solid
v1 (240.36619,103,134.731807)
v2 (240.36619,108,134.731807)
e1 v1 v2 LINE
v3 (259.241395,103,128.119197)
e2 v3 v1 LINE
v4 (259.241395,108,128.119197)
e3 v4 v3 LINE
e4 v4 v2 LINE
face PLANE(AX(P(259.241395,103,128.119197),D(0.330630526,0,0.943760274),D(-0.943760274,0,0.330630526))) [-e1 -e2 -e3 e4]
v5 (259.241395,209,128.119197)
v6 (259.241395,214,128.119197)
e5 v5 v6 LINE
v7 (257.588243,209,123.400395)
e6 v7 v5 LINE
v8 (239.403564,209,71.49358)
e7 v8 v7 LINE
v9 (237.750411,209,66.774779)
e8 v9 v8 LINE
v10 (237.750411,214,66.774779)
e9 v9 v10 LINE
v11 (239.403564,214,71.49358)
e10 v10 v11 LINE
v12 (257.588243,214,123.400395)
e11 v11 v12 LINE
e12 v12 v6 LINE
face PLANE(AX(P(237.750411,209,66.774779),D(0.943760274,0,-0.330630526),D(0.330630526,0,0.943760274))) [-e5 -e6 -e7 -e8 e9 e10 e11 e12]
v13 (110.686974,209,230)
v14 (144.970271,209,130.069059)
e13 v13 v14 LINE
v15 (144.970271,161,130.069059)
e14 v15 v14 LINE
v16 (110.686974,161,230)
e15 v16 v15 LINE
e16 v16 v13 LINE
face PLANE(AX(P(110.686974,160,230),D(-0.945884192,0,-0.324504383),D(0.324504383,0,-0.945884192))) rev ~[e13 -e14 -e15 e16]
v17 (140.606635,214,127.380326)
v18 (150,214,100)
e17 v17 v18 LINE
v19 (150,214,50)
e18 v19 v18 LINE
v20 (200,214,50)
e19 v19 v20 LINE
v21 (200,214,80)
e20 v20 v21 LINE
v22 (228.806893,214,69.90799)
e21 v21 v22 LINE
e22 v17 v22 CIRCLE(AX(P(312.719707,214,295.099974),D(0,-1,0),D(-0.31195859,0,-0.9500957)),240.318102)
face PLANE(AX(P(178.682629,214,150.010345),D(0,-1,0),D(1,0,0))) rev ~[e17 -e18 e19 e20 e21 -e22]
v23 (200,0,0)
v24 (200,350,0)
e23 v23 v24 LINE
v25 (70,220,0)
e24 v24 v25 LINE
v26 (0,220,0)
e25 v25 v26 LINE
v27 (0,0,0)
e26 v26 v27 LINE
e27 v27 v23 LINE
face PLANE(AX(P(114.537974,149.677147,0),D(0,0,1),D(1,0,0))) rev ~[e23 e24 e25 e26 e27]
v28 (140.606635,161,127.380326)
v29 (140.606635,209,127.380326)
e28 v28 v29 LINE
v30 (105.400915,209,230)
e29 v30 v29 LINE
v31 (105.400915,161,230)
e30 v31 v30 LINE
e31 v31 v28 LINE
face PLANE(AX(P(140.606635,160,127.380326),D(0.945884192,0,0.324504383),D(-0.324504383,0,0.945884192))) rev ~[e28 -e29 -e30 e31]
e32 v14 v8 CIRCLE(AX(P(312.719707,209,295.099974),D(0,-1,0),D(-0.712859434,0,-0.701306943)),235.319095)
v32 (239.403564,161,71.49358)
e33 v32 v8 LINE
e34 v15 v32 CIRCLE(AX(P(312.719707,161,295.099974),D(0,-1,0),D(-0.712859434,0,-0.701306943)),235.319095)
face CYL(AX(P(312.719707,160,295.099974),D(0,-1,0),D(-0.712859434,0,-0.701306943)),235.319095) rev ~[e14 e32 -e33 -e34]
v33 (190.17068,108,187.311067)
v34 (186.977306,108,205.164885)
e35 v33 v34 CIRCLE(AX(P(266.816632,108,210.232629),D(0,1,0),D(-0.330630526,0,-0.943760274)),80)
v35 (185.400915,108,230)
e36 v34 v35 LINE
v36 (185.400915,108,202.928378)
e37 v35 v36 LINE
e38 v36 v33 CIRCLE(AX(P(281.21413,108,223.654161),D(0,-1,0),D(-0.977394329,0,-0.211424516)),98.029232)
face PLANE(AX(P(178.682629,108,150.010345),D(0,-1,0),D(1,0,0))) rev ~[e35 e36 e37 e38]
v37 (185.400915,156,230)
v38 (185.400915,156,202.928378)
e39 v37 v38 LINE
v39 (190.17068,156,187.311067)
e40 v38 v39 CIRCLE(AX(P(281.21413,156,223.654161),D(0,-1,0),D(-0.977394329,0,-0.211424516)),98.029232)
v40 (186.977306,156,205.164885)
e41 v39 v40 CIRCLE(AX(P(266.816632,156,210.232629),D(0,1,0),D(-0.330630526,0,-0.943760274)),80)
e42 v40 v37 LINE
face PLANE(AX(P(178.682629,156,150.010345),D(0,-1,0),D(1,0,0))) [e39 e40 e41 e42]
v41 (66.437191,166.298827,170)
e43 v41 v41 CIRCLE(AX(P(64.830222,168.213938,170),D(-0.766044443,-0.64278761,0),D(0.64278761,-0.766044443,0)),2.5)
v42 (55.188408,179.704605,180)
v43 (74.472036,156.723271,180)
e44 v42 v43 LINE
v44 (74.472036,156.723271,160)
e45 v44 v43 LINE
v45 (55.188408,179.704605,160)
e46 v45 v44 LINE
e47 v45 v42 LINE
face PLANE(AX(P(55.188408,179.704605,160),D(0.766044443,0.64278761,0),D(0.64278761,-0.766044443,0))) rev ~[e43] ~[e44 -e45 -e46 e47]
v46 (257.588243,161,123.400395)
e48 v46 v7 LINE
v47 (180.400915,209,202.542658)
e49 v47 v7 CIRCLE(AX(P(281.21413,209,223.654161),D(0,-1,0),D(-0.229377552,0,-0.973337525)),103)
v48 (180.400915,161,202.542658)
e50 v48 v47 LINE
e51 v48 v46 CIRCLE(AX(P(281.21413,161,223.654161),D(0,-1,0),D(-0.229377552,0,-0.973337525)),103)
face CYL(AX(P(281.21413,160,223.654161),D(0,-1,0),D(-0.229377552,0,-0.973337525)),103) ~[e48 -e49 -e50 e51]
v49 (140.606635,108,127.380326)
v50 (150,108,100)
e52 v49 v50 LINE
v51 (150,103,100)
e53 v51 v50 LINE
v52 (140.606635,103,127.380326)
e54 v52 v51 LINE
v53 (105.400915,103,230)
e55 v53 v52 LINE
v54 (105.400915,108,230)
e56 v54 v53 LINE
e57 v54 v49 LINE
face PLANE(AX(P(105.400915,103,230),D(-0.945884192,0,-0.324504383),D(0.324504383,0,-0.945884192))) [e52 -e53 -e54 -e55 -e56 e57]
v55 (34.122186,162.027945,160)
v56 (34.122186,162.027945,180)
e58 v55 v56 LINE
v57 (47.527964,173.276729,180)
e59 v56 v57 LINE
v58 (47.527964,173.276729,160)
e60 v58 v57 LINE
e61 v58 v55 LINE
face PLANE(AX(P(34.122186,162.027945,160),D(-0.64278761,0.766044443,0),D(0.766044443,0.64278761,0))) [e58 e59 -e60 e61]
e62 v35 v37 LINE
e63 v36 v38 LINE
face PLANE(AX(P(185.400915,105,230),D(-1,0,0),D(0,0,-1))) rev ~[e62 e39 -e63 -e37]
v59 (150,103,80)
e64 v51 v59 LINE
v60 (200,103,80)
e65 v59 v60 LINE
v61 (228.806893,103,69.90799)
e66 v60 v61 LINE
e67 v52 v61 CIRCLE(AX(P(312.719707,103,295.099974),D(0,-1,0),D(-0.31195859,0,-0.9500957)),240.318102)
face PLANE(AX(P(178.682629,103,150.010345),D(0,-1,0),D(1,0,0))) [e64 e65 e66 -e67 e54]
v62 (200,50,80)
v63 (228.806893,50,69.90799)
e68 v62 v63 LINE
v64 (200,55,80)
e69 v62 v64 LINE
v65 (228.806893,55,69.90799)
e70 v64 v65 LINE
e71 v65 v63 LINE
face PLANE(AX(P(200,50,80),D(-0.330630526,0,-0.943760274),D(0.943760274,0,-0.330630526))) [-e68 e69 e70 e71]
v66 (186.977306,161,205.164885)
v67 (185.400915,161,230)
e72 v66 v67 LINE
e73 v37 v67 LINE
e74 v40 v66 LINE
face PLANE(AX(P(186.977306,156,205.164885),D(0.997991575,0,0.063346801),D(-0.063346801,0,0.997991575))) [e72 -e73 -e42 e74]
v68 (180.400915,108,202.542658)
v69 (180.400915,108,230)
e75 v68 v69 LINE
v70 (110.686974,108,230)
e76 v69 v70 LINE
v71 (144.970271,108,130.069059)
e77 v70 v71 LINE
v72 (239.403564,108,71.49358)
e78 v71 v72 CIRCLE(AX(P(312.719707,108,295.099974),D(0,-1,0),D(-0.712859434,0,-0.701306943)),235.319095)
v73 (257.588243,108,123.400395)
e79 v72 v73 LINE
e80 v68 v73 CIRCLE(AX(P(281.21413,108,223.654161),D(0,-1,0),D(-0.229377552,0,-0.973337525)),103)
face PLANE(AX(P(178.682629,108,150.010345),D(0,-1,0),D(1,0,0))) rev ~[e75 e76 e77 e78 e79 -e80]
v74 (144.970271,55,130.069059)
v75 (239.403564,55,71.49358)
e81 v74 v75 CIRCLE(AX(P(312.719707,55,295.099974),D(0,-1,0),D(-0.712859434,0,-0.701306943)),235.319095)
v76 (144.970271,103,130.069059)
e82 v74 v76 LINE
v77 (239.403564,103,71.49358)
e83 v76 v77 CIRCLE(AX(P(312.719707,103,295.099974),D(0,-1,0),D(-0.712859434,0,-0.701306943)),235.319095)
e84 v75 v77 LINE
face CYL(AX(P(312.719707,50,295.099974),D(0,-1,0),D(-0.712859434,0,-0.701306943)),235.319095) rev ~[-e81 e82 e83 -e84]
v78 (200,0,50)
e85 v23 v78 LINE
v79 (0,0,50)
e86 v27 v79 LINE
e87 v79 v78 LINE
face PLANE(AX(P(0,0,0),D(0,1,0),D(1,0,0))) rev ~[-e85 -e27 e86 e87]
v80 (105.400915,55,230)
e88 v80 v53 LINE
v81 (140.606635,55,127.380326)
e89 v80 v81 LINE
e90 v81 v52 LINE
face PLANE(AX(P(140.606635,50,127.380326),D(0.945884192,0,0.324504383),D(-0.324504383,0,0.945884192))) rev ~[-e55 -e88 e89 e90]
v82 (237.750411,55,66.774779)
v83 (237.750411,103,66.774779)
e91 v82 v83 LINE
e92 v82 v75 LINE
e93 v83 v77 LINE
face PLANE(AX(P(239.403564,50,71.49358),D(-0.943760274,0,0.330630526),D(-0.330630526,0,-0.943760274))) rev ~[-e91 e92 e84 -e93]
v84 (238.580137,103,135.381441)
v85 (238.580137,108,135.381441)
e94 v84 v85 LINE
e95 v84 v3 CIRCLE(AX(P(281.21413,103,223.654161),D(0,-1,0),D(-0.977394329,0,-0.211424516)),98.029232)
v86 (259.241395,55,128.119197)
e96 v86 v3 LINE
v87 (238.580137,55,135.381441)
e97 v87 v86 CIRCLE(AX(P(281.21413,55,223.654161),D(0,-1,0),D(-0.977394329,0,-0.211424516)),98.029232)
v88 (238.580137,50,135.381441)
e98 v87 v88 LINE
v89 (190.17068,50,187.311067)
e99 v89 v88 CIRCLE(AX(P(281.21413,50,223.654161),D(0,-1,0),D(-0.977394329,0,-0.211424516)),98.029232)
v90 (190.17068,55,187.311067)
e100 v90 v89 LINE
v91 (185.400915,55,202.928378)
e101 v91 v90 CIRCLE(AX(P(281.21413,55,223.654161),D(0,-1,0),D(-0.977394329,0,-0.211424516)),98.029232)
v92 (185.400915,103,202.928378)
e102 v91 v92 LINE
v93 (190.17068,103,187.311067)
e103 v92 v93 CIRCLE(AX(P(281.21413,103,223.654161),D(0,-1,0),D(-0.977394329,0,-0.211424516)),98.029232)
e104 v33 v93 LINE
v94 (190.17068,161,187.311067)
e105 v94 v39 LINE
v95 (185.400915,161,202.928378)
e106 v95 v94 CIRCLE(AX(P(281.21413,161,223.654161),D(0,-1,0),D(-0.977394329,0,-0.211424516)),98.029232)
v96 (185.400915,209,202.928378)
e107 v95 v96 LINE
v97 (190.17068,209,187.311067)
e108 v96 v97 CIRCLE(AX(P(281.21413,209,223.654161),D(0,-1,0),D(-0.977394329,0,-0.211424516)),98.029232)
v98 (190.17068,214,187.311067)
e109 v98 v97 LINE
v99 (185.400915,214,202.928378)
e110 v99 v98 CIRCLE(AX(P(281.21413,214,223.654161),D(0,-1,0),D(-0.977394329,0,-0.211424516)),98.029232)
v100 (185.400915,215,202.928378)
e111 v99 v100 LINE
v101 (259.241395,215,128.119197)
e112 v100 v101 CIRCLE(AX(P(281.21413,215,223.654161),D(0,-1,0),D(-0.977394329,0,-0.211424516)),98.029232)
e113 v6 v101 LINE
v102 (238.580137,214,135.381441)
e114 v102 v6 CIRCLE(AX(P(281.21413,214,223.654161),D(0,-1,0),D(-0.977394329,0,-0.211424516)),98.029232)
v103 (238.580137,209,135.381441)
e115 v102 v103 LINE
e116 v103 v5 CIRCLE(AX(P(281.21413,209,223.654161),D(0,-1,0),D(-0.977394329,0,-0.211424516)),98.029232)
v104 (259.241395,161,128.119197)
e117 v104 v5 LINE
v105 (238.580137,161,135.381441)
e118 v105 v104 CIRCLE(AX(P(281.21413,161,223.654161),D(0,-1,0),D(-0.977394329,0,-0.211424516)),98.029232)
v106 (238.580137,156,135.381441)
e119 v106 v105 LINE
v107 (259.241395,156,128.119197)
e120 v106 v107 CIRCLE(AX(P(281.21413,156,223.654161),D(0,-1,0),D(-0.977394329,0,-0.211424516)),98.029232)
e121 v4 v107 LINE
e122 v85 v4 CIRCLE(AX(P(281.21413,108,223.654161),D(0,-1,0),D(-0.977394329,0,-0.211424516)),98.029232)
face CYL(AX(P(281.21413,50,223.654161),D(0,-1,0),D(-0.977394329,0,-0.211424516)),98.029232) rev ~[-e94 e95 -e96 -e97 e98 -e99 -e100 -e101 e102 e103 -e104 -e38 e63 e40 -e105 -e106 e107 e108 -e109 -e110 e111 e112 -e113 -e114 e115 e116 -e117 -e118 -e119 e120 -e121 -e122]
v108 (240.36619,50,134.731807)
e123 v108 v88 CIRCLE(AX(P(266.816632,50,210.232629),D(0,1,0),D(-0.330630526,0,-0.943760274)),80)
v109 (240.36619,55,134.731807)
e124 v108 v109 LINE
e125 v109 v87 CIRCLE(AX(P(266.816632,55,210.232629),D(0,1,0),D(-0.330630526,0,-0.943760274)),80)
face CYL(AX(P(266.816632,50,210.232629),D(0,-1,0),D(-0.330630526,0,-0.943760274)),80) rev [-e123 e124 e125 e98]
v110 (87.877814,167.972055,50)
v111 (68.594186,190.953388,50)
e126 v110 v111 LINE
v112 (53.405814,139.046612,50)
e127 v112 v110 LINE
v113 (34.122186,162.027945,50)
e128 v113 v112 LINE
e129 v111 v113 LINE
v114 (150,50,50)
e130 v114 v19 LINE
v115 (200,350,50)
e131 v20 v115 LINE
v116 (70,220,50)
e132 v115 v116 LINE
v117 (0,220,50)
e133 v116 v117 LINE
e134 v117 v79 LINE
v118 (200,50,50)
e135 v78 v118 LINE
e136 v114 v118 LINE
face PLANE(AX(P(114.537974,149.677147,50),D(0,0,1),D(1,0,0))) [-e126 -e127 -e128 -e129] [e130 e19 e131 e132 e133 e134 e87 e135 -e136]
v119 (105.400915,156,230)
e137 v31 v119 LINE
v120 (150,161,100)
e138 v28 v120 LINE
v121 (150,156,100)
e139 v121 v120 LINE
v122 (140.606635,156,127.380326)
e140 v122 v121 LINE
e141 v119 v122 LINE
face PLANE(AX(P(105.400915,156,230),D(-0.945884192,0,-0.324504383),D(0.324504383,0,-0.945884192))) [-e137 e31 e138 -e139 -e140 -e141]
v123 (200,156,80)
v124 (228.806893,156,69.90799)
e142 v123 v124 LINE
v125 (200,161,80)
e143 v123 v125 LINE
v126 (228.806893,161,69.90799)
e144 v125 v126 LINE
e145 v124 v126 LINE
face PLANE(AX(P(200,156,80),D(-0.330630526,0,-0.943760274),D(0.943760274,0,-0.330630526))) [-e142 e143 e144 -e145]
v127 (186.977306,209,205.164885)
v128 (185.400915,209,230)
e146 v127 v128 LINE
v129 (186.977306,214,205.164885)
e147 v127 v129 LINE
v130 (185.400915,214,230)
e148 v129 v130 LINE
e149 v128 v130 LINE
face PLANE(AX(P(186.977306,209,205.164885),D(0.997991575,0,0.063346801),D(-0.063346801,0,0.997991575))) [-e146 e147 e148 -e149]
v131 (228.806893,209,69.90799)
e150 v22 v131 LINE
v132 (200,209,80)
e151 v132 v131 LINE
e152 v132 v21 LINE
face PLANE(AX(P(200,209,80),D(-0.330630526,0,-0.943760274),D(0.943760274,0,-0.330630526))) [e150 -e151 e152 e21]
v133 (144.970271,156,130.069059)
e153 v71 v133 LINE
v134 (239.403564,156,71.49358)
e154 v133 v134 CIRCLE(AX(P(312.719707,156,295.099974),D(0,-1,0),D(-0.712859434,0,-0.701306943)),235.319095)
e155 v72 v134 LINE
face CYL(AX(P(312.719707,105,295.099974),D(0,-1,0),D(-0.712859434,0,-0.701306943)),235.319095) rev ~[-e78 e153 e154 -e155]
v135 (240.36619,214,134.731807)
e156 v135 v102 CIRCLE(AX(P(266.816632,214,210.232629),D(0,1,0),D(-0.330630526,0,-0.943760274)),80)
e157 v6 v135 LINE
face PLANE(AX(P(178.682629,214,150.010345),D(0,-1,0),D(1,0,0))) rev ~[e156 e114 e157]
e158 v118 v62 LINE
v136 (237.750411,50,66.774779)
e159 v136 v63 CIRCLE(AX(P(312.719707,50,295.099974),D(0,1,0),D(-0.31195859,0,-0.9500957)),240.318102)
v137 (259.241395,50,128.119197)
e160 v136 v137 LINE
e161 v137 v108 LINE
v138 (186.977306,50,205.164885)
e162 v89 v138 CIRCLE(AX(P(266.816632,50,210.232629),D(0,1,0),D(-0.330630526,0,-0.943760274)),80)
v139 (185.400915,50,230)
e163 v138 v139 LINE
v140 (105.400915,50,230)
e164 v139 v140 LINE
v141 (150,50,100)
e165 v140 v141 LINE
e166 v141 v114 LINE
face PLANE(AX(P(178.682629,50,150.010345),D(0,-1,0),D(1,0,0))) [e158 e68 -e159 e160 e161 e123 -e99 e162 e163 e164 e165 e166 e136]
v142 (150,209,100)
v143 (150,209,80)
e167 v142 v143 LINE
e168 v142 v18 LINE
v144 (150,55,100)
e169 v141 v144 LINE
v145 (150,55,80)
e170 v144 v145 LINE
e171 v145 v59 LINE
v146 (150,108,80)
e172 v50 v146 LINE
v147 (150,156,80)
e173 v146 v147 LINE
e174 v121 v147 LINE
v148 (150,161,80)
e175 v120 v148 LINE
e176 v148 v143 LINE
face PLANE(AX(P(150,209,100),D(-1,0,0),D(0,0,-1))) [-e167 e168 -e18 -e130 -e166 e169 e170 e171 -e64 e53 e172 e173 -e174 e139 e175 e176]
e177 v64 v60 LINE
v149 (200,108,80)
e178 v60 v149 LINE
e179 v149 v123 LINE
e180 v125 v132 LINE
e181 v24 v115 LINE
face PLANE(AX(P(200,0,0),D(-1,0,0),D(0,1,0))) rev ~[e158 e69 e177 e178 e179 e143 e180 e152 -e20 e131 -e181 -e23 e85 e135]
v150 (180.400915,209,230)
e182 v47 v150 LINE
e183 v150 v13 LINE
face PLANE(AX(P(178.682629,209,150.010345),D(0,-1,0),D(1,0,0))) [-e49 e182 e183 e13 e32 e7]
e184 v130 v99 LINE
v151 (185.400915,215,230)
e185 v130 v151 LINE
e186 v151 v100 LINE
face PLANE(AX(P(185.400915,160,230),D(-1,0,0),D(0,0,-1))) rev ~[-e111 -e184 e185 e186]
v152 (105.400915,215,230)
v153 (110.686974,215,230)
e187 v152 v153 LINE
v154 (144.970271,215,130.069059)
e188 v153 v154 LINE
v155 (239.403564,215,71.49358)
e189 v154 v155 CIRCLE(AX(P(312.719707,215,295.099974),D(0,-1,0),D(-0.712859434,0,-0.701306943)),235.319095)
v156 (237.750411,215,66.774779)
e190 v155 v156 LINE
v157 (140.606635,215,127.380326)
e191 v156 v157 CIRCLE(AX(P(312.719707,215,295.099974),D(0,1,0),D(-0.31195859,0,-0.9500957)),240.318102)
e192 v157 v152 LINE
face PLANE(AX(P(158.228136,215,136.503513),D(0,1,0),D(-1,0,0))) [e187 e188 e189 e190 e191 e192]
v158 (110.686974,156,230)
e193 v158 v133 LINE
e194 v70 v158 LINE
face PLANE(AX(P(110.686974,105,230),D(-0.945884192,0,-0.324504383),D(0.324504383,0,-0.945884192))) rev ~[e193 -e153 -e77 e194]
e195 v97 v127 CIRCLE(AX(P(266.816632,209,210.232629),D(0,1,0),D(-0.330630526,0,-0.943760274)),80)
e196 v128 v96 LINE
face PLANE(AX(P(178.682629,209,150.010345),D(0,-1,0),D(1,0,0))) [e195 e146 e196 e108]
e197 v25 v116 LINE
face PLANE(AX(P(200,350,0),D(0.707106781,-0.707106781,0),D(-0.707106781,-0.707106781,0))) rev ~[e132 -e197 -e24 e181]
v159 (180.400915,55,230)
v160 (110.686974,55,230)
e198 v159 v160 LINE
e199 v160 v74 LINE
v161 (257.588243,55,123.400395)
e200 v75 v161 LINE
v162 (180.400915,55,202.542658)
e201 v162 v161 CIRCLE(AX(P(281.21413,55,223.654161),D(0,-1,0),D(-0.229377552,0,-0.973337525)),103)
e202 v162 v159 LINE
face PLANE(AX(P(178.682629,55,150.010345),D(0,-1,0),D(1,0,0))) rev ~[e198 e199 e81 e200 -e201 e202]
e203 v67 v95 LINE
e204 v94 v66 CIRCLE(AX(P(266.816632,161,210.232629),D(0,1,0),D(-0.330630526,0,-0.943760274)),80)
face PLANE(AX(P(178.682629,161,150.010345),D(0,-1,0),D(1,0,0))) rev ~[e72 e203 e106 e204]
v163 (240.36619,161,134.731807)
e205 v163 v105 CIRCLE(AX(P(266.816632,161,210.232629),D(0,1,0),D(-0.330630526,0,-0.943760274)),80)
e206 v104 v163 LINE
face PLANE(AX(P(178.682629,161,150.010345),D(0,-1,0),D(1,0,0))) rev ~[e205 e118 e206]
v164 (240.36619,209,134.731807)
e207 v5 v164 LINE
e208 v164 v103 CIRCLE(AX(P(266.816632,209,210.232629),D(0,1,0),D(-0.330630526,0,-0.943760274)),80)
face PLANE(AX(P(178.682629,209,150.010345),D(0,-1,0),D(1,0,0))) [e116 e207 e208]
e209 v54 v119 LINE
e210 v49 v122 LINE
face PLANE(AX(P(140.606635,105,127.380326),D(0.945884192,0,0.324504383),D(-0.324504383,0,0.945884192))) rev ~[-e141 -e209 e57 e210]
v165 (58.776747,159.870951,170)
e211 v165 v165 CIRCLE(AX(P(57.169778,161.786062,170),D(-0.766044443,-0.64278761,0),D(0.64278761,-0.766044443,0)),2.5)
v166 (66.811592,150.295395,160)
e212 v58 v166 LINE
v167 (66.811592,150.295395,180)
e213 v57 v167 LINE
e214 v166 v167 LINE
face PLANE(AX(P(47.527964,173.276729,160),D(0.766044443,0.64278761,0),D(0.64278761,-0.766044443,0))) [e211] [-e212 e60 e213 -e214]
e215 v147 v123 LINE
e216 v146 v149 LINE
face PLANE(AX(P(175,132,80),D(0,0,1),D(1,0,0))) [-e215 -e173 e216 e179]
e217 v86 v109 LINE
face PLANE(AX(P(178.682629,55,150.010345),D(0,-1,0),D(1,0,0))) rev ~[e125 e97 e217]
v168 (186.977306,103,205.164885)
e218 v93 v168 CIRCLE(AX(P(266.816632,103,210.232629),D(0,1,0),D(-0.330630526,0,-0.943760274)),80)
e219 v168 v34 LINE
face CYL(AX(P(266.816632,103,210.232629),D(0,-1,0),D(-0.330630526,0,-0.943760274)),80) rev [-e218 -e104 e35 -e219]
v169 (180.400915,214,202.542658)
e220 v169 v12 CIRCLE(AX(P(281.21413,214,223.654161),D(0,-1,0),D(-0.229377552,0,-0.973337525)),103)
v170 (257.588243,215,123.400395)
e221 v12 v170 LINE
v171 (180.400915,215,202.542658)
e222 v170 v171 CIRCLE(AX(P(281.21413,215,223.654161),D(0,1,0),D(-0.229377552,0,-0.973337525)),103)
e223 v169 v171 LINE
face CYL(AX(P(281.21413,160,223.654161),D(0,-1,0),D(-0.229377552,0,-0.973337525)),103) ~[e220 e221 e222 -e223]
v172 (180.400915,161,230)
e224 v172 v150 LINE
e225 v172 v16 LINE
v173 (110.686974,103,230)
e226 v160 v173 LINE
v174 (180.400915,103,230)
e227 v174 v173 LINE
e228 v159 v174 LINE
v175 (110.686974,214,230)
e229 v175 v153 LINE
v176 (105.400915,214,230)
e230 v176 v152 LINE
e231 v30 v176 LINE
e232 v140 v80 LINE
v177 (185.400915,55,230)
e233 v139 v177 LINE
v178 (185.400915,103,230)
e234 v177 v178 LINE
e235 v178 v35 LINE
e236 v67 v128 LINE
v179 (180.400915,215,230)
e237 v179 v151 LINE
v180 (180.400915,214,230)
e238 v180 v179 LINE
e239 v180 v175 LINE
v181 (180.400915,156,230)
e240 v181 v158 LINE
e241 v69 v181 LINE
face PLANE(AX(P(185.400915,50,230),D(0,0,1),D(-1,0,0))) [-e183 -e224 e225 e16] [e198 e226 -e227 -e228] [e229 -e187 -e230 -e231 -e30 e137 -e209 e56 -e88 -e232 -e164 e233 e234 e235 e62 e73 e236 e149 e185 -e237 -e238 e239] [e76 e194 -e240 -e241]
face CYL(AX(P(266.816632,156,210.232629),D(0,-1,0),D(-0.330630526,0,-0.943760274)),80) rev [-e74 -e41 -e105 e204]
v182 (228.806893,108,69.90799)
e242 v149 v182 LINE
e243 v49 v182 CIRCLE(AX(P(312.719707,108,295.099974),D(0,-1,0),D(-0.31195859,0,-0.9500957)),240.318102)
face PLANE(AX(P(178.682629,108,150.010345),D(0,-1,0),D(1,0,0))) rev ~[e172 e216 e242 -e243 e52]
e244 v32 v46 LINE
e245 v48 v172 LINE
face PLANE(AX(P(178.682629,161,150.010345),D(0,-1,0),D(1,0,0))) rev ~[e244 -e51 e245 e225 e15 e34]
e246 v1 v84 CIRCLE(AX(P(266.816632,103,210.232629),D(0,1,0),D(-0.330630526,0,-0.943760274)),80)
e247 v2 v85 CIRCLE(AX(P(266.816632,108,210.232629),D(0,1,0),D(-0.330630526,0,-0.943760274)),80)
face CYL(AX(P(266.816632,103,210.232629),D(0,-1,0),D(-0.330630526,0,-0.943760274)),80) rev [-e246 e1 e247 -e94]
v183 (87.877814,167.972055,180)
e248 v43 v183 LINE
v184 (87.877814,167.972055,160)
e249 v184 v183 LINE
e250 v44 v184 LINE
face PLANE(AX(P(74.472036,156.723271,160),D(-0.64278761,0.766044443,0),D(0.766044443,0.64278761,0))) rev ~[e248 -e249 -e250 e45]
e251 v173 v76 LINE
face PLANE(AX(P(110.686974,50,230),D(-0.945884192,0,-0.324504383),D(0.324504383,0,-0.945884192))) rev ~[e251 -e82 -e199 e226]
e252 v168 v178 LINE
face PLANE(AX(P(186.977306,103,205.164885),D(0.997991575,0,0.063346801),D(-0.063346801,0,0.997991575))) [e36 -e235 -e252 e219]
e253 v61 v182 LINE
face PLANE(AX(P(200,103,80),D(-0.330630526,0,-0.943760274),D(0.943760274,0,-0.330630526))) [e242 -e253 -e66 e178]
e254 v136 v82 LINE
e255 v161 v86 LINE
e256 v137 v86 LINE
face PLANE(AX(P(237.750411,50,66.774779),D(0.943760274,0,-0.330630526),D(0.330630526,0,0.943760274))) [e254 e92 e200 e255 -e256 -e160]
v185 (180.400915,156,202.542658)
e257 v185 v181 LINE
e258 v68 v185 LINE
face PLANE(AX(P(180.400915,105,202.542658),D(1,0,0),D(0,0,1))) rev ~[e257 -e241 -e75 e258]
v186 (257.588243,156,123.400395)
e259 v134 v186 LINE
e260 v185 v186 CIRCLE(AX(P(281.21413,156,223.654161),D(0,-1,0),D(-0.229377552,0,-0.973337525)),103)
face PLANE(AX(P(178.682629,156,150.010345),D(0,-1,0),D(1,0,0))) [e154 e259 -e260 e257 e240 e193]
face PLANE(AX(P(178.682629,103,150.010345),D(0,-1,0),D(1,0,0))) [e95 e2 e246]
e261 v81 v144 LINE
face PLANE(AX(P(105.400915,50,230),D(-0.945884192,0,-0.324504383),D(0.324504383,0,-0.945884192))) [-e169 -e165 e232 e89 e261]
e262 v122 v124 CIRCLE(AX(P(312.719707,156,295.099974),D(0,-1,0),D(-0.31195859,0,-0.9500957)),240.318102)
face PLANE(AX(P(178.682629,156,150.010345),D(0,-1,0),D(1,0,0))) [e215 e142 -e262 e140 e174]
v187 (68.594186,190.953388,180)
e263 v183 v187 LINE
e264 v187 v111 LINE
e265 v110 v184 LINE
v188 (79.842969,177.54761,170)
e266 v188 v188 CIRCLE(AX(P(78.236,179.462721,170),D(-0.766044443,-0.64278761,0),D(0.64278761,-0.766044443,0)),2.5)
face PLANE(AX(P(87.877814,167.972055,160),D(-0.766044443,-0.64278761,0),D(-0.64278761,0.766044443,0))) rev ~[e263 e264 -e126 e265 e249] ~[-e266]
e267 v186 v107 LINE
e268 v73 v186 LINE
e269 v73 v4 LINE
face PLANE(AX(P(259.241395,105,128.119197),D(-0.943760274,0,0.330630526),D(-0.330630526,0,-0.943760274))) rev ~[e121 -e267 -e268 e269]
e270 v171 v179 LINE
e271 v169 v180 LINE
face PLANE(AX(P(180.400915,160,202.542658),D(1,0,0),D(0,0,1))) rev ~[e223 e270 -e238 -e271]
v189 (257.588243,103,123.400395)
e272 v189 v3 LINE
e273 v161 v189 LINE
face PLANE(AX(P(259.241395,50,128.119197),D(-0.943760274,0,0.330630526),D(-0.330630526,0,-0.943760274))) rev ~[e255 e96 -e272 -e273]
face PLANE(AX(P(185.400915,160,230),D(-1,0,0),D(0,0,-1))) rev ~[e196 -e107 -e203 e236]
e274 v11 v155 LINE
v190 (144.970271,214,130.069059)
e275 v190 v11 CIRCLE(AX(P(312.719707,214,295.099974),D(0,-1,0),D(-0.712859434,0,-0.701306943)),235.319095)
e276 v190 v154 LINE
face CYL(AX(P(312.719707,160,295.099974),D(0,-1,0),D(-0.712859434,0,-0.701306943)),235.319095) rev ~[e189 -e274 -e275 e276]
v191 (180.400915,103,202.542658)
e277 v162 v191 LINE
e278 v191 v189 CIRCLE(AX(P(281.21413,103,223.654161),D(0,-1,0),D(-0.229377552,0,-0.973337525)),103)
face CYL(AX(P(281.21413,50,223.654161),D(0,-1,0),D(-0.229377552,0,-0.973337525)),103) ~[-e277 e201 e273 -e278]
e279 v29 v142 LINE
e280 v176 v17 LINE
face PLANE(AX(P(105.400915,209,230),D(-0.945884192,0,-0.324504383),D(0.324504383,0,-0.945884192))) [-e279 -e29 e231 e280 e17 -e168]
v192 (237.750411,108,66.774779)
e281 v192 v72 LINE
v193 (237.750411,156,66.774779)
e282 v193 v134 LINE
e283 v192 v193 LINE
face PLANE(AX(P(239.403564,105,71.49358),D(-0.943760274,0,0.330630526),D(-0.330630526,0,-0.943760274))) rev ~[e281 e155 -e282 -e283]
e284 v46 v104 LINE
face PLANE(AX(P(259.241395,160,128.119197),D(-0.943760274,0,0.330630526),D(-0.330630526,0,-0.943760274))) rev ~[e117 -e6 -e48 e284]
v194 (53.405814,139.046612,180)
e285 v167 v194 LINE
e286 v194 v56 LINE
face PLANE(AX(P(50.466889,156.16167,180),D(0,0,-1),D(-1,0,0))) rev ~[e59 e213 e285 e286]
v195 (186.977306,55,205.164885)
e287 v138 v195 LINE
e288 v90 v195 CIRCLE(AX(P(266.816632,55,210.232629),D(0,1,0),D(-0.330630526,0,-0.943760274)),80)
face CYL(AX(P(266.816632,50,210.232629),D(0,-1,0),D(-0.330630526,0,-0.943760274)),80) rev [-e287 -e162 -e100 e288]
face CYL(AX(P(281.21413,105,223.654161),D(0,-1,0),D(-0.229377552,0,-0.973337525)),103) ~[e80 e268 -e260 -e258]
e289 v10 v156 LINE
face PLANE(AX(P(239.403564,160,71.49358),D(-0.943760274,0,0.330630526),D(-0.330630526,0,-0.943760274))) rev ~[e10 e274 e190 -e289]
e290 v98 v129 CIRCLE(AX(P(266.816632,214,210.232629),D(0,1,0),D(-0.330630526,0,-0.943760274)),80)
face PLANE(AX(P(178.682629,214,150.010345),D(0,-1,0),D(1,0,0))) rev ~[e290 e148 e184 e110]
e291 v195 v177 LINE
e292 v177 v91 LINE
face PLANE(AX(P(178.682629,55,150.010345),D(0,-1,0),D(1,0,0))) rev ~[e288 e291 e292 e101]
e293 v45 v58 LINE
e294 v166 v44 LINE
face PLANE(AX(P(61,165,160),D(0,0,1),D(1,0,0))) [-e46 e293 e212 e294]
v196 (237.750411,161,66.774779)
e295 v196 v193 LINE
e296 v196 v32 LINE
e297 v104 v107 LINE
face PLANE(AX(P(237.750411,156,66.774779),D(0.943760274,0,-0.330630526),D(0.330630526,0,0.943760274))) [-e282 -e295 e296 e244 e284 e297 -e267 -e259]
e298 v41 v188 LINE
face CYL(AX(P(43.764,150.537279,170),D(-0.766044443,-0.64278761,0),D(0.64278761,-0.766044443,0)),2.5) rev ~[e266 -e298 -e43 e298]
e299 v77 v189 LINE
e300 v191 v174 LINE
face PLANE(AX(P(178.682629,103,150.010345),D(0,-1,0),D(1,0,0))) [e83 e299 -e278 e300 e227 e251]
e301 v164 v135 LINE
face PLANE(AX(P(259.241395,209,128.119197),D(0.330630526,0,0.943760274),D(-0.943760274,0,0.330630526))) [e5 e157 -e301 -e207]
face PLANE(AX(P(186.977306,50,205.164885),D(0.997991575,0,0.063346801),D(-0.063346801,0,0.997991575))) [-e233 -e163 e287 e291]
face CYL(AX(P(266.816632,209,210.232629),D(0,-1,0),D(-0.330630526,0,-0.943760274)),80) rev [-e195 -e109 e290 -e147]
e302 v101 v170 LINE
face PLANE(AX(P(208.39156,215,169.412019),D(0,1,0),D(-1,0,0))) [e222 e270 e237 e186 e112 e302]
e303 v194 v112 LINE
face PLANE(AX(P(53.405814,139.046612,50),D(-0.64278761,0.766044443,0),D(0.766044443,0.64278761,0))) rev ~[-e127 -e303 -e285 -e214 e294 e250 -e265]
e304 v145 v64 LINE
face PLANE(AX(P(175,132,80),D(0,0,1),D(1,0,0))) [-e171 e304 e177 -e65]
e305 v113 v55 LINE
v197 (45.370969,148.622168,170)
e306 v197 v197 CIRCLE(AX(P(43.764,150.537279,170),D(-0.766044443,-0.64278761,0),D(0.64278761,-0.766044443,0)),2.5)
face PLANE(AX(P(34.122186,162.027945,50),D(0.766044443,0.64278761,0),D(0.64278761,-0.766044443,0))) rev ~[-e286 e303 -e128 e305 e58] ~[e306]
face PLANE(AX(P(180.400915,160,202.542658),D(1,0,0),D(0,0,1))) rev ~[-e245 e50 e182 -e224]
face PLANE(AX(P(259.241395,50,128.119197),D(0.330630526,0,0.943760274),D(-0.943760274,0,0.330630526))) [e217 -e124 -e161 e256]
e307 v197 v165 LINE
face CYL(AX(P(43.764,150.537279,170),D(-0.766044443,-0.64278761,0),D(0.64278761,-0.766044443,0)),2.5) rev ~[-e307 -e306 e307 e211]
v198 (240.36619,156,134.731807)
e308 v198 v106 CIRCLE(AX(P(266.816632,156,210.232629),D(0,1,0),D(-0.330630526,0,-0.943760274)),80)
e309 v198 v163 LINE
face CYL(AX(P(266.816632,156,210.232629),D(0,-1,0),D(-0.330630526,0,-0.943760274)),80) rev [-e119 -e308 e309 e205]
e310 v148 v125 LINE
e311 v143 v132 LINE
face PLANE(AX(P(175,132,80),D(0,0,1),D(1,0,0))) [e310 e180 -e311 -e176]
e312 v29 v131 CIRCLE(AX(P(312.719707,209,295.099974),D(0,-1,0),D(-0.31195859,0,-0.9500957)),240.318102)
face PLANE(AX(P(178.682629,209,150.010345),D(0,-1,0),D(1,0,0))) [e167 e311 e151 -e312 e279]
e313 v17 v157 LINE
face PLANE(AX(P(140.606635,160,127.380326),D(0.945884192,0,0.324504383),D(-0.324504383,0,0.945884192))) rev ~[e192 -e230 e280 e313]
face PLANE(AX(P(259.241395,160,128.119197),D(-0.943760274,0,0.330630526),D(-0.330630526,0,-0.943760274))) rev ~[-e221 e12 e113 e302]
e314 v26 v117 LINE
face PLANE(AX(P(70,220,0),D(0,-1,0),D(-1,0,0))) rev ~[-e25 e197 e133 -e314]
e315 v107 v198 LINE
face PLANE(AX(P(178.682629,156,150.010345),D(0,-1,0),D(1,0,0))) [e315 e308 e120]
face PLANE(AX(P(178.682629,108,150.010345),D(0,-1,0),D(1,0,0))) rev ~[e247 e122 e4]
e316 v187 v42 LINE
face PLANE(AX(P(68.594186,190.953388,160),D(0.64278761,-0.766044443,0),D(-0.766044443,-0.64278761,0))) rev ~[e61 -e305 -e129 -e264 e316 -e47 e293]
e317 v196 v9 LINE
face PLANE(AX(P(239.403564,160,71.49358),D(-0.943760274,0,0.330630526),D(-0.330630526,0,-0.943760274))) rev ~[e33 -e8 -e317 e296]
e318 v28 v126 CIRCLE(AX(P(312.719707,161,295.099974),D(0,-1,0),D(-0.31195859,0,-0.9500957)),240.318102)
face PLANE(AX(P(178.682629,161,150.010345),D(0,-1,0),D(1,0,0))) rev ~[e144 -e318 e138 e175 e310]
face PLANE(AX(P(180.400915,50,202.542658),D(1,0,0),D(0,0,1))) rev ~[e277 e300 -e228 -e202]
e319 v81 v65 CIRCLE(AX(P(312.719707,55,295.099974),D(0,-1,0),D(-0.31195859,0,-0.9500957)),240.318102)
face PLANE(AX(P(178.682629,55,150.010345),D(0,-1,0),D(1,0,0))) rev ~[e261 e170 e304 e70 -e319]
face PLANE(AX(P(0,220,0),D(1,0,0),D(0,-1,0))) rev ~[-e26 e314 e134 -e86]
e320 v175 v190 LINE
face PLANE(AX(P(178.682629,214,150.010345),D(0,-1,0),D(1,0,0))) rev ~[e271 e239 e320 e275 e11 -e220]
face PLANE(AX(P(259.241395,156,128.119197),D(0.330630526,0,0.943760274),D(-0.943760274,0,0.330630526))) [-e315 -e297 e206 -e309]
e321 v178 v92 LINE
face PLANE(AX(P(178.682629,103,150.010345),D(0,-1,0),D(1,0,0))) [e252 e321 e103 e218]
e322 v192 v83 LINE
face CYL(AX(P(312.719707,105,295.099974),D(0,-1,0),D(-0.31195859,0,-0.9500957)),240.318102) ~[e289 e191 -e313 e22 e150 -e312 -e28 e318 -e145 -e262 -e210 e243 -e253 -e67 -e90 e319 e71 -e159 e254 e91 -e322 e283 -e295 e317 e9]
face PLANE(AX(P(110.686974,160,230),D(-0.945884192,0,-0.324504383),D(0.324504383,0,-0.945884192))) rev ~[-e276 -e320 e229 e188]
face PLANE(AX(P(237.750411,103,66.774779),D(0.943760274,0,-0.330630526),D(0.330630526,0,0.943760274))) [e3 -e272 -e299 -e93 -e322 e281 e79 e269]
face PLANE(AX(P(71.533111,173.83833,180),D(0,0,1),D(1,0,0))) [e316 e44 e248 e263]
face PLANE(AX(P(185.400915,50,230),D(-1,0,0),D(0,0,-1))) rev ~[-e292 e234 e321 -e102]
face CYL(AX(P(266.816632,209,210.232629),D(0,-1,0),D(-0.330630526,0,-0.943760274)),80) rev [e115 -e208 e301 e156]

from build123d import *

# Parameters (mm, degrees)
P_IDAT_VYSUNUT_M1_DEPTH  = 50
SKICA7_W                 = 50
SKICA7_H                 = 164
P_IDAT_VYSUNUT_M5_DEPTH  = 30
P_IDAT_VYSUNUT_M16_DEPTH = 5
LINPOLE1_COUNT           = 4
LINPOLE1_PITCH           = 53
P_IDAT_VYSUNUT_M17_DEPTH = 55
LINPOLE2_COUNT           = 3
LINPOLE2_PITCH           = 55
P_IDAT_VYSUNUT_M18_DEPTH = 110
P_IDAT_VYSUNUT_M19_DEPTH = 20
SKICA29_R                = 2.5
ODEBRAT_VYSUNUT_M1_DEPTH = 387.276474167


with BuildPart() as part:
    # Skica1 → Přidat vysunutím1 (new body)
    with BuildSketch(Plane.XY):
        Polygon((0, 0), (200, 0), (200, 350), (70, 220), (0, 220), align=None)
    extrude(amount=P_IDAT_VYSUNUT_M1_DEPTH)

    # Skica7 → Přidat vysunutím5 (add)
    with BuildSketch(Plane.XY.offset(50)):
        with Locations((175, 132)):
            Rectangle(SKICA7_W, SKICA7_H)
    extrude(amount=P_IDAT_VYSUNUT_M5_DEPTH)

    # Skica23 → Přidat vysunutím16 (add)
    with BuildSketch(Plane.XZ.offset(-50)):
        with BuildLine():
            Line((200, 80), (237.75041097, 66.774778957))
            Line((237.75041097, 66.774778957), (259.241395164, 128.119196783))
            Line((259.241395164, 128.119196783), (240.366189679, 134.731807304))
            ThreePointArc((240.366189679, 134.731807304), (203.062547088, 161.906480142), (186.977305802, 205.164885189))
            Line((186.977305802, 205.164885189), (185.40091467, 230))
            Line((185.40091467, 230), (105.40091467, 230))
            Line((105.40091467, 230), (150, 100))
            Line((150, 100), (150, 80))
            Line((150, 80), (200, 80))
        make_face()
    p_idat_vysunut_m16 = extrude(amount=-P_IDAT_VYSUNUT_M16_DEPTH)

    # LinPole1: Přidat vysunutím16 ×4
    with Locations(*[(0, i * LINPOLE1_PITCH, 0) for i in range(1, LINPOLE1_COUNT)]):
        add(p_idat_vysunut_m16)

    # Skica26 → Přidat vysunutím17 (add)
    with BuildSketch(Plane.XZ.offset(-50)):
        with BuildLine():
            Line((140.606634732, 127.380325757), (105.40091467, 230))
            Line((105.40091467, 230), (110.686974043, 230))
            Line((110.686974043, 230), (144.970270535, 130.069059465))
            ThreePointArc((144.970270535, 130.069059465), (188.679692745, 95.127098247), (239.4035636, 71.493580328))
            Line((239.4035636, 71.493580328), (237.75041097, 66.774778957))
            ThreePointArc((237.75041097, 66.774778957), (185.516396292, 91.207581344), (140.606634732, 127.380325757))
        make_face()
        with BuildLine():
            Line((185.40091467, 230), (185.40091467, 202.92837758))
            ThreePointArc((185.40091467, 202.92837758), (211.446760209, 154.790204461), (259.241395164, 128.119196783))
            Line((259.241395164, 128.119196783), (257.588242534, 123.400395411))
            ThreePointArc((257.588242534, 123.400395411), (207.477117523, 151.738564679), (180.40091467, 202.542658277))
            Line((180.40091467, 202.542658277), (180.40091467, 230))
            Line((180.40091467, 230), (185.40091467, 230))
        make_face()
    p_idat_vysunut_m17 = extrude(amount=-P_IDAT_VYSUNUT_M17_DEPTH)

    # LinPole2: Přidat vysunutím17 ×3
    with Locations(*[(0, i * LINPOLE2_PITCH, 0) for i in range(1, LINPOLE2_COUNT)]):
        add(p_idat_vysunut_m17)

    # Skica27 → Přidat vysunutím18 (add)
    with BuildSketch(Plane.XY.offset(50)):
        Polygon((53.405814175, 139.046612135), (87.877814115, 167.972054571), (68.594185825, 190.953387865), (34.122185885, 162.027945429), align=None)
    extrude(amount=P_IDAT_VYSUNUT_M18_DEPTH)

    # Skica28 → Přidat vysunutím19 (add)
    with BuildSketch(Plane.XY.offset(160)):
        Polygon((55.18840807, 179.704604695), (74.472036361, 156.723271402), (87.877814115, 167.972054571), (68.594185825, 190.953387865), align=None)
        Polygon((47.527963639, 173.276728598), (66.81159193, 150.295395305), (53.405814175, 139.046612135), (34.122185885, 162.027945429), align=None)
    extrude(amount=P_IDAT_VYSUNUT_M19_DEPTH)

    # Skica29 → Odebrat vysunutím1 (cut, through all)
    with BuildSketch(Plane(origin=(99.806909072, 83.747940591, 0), x_dir=(0, 0, 1), z_dir=(-0.7660444431189739, -0.6427876096865444, 0))):
        with Locations(Location((170, 87.187288924, 0), (0, 0, 270))):
            Circle(SKICA29_R)
    extrude(amount=-ODEBRAT_VYSUNUT_M1_DEPTH, mode=Mode.SUBTRACT)


solid = part.part
